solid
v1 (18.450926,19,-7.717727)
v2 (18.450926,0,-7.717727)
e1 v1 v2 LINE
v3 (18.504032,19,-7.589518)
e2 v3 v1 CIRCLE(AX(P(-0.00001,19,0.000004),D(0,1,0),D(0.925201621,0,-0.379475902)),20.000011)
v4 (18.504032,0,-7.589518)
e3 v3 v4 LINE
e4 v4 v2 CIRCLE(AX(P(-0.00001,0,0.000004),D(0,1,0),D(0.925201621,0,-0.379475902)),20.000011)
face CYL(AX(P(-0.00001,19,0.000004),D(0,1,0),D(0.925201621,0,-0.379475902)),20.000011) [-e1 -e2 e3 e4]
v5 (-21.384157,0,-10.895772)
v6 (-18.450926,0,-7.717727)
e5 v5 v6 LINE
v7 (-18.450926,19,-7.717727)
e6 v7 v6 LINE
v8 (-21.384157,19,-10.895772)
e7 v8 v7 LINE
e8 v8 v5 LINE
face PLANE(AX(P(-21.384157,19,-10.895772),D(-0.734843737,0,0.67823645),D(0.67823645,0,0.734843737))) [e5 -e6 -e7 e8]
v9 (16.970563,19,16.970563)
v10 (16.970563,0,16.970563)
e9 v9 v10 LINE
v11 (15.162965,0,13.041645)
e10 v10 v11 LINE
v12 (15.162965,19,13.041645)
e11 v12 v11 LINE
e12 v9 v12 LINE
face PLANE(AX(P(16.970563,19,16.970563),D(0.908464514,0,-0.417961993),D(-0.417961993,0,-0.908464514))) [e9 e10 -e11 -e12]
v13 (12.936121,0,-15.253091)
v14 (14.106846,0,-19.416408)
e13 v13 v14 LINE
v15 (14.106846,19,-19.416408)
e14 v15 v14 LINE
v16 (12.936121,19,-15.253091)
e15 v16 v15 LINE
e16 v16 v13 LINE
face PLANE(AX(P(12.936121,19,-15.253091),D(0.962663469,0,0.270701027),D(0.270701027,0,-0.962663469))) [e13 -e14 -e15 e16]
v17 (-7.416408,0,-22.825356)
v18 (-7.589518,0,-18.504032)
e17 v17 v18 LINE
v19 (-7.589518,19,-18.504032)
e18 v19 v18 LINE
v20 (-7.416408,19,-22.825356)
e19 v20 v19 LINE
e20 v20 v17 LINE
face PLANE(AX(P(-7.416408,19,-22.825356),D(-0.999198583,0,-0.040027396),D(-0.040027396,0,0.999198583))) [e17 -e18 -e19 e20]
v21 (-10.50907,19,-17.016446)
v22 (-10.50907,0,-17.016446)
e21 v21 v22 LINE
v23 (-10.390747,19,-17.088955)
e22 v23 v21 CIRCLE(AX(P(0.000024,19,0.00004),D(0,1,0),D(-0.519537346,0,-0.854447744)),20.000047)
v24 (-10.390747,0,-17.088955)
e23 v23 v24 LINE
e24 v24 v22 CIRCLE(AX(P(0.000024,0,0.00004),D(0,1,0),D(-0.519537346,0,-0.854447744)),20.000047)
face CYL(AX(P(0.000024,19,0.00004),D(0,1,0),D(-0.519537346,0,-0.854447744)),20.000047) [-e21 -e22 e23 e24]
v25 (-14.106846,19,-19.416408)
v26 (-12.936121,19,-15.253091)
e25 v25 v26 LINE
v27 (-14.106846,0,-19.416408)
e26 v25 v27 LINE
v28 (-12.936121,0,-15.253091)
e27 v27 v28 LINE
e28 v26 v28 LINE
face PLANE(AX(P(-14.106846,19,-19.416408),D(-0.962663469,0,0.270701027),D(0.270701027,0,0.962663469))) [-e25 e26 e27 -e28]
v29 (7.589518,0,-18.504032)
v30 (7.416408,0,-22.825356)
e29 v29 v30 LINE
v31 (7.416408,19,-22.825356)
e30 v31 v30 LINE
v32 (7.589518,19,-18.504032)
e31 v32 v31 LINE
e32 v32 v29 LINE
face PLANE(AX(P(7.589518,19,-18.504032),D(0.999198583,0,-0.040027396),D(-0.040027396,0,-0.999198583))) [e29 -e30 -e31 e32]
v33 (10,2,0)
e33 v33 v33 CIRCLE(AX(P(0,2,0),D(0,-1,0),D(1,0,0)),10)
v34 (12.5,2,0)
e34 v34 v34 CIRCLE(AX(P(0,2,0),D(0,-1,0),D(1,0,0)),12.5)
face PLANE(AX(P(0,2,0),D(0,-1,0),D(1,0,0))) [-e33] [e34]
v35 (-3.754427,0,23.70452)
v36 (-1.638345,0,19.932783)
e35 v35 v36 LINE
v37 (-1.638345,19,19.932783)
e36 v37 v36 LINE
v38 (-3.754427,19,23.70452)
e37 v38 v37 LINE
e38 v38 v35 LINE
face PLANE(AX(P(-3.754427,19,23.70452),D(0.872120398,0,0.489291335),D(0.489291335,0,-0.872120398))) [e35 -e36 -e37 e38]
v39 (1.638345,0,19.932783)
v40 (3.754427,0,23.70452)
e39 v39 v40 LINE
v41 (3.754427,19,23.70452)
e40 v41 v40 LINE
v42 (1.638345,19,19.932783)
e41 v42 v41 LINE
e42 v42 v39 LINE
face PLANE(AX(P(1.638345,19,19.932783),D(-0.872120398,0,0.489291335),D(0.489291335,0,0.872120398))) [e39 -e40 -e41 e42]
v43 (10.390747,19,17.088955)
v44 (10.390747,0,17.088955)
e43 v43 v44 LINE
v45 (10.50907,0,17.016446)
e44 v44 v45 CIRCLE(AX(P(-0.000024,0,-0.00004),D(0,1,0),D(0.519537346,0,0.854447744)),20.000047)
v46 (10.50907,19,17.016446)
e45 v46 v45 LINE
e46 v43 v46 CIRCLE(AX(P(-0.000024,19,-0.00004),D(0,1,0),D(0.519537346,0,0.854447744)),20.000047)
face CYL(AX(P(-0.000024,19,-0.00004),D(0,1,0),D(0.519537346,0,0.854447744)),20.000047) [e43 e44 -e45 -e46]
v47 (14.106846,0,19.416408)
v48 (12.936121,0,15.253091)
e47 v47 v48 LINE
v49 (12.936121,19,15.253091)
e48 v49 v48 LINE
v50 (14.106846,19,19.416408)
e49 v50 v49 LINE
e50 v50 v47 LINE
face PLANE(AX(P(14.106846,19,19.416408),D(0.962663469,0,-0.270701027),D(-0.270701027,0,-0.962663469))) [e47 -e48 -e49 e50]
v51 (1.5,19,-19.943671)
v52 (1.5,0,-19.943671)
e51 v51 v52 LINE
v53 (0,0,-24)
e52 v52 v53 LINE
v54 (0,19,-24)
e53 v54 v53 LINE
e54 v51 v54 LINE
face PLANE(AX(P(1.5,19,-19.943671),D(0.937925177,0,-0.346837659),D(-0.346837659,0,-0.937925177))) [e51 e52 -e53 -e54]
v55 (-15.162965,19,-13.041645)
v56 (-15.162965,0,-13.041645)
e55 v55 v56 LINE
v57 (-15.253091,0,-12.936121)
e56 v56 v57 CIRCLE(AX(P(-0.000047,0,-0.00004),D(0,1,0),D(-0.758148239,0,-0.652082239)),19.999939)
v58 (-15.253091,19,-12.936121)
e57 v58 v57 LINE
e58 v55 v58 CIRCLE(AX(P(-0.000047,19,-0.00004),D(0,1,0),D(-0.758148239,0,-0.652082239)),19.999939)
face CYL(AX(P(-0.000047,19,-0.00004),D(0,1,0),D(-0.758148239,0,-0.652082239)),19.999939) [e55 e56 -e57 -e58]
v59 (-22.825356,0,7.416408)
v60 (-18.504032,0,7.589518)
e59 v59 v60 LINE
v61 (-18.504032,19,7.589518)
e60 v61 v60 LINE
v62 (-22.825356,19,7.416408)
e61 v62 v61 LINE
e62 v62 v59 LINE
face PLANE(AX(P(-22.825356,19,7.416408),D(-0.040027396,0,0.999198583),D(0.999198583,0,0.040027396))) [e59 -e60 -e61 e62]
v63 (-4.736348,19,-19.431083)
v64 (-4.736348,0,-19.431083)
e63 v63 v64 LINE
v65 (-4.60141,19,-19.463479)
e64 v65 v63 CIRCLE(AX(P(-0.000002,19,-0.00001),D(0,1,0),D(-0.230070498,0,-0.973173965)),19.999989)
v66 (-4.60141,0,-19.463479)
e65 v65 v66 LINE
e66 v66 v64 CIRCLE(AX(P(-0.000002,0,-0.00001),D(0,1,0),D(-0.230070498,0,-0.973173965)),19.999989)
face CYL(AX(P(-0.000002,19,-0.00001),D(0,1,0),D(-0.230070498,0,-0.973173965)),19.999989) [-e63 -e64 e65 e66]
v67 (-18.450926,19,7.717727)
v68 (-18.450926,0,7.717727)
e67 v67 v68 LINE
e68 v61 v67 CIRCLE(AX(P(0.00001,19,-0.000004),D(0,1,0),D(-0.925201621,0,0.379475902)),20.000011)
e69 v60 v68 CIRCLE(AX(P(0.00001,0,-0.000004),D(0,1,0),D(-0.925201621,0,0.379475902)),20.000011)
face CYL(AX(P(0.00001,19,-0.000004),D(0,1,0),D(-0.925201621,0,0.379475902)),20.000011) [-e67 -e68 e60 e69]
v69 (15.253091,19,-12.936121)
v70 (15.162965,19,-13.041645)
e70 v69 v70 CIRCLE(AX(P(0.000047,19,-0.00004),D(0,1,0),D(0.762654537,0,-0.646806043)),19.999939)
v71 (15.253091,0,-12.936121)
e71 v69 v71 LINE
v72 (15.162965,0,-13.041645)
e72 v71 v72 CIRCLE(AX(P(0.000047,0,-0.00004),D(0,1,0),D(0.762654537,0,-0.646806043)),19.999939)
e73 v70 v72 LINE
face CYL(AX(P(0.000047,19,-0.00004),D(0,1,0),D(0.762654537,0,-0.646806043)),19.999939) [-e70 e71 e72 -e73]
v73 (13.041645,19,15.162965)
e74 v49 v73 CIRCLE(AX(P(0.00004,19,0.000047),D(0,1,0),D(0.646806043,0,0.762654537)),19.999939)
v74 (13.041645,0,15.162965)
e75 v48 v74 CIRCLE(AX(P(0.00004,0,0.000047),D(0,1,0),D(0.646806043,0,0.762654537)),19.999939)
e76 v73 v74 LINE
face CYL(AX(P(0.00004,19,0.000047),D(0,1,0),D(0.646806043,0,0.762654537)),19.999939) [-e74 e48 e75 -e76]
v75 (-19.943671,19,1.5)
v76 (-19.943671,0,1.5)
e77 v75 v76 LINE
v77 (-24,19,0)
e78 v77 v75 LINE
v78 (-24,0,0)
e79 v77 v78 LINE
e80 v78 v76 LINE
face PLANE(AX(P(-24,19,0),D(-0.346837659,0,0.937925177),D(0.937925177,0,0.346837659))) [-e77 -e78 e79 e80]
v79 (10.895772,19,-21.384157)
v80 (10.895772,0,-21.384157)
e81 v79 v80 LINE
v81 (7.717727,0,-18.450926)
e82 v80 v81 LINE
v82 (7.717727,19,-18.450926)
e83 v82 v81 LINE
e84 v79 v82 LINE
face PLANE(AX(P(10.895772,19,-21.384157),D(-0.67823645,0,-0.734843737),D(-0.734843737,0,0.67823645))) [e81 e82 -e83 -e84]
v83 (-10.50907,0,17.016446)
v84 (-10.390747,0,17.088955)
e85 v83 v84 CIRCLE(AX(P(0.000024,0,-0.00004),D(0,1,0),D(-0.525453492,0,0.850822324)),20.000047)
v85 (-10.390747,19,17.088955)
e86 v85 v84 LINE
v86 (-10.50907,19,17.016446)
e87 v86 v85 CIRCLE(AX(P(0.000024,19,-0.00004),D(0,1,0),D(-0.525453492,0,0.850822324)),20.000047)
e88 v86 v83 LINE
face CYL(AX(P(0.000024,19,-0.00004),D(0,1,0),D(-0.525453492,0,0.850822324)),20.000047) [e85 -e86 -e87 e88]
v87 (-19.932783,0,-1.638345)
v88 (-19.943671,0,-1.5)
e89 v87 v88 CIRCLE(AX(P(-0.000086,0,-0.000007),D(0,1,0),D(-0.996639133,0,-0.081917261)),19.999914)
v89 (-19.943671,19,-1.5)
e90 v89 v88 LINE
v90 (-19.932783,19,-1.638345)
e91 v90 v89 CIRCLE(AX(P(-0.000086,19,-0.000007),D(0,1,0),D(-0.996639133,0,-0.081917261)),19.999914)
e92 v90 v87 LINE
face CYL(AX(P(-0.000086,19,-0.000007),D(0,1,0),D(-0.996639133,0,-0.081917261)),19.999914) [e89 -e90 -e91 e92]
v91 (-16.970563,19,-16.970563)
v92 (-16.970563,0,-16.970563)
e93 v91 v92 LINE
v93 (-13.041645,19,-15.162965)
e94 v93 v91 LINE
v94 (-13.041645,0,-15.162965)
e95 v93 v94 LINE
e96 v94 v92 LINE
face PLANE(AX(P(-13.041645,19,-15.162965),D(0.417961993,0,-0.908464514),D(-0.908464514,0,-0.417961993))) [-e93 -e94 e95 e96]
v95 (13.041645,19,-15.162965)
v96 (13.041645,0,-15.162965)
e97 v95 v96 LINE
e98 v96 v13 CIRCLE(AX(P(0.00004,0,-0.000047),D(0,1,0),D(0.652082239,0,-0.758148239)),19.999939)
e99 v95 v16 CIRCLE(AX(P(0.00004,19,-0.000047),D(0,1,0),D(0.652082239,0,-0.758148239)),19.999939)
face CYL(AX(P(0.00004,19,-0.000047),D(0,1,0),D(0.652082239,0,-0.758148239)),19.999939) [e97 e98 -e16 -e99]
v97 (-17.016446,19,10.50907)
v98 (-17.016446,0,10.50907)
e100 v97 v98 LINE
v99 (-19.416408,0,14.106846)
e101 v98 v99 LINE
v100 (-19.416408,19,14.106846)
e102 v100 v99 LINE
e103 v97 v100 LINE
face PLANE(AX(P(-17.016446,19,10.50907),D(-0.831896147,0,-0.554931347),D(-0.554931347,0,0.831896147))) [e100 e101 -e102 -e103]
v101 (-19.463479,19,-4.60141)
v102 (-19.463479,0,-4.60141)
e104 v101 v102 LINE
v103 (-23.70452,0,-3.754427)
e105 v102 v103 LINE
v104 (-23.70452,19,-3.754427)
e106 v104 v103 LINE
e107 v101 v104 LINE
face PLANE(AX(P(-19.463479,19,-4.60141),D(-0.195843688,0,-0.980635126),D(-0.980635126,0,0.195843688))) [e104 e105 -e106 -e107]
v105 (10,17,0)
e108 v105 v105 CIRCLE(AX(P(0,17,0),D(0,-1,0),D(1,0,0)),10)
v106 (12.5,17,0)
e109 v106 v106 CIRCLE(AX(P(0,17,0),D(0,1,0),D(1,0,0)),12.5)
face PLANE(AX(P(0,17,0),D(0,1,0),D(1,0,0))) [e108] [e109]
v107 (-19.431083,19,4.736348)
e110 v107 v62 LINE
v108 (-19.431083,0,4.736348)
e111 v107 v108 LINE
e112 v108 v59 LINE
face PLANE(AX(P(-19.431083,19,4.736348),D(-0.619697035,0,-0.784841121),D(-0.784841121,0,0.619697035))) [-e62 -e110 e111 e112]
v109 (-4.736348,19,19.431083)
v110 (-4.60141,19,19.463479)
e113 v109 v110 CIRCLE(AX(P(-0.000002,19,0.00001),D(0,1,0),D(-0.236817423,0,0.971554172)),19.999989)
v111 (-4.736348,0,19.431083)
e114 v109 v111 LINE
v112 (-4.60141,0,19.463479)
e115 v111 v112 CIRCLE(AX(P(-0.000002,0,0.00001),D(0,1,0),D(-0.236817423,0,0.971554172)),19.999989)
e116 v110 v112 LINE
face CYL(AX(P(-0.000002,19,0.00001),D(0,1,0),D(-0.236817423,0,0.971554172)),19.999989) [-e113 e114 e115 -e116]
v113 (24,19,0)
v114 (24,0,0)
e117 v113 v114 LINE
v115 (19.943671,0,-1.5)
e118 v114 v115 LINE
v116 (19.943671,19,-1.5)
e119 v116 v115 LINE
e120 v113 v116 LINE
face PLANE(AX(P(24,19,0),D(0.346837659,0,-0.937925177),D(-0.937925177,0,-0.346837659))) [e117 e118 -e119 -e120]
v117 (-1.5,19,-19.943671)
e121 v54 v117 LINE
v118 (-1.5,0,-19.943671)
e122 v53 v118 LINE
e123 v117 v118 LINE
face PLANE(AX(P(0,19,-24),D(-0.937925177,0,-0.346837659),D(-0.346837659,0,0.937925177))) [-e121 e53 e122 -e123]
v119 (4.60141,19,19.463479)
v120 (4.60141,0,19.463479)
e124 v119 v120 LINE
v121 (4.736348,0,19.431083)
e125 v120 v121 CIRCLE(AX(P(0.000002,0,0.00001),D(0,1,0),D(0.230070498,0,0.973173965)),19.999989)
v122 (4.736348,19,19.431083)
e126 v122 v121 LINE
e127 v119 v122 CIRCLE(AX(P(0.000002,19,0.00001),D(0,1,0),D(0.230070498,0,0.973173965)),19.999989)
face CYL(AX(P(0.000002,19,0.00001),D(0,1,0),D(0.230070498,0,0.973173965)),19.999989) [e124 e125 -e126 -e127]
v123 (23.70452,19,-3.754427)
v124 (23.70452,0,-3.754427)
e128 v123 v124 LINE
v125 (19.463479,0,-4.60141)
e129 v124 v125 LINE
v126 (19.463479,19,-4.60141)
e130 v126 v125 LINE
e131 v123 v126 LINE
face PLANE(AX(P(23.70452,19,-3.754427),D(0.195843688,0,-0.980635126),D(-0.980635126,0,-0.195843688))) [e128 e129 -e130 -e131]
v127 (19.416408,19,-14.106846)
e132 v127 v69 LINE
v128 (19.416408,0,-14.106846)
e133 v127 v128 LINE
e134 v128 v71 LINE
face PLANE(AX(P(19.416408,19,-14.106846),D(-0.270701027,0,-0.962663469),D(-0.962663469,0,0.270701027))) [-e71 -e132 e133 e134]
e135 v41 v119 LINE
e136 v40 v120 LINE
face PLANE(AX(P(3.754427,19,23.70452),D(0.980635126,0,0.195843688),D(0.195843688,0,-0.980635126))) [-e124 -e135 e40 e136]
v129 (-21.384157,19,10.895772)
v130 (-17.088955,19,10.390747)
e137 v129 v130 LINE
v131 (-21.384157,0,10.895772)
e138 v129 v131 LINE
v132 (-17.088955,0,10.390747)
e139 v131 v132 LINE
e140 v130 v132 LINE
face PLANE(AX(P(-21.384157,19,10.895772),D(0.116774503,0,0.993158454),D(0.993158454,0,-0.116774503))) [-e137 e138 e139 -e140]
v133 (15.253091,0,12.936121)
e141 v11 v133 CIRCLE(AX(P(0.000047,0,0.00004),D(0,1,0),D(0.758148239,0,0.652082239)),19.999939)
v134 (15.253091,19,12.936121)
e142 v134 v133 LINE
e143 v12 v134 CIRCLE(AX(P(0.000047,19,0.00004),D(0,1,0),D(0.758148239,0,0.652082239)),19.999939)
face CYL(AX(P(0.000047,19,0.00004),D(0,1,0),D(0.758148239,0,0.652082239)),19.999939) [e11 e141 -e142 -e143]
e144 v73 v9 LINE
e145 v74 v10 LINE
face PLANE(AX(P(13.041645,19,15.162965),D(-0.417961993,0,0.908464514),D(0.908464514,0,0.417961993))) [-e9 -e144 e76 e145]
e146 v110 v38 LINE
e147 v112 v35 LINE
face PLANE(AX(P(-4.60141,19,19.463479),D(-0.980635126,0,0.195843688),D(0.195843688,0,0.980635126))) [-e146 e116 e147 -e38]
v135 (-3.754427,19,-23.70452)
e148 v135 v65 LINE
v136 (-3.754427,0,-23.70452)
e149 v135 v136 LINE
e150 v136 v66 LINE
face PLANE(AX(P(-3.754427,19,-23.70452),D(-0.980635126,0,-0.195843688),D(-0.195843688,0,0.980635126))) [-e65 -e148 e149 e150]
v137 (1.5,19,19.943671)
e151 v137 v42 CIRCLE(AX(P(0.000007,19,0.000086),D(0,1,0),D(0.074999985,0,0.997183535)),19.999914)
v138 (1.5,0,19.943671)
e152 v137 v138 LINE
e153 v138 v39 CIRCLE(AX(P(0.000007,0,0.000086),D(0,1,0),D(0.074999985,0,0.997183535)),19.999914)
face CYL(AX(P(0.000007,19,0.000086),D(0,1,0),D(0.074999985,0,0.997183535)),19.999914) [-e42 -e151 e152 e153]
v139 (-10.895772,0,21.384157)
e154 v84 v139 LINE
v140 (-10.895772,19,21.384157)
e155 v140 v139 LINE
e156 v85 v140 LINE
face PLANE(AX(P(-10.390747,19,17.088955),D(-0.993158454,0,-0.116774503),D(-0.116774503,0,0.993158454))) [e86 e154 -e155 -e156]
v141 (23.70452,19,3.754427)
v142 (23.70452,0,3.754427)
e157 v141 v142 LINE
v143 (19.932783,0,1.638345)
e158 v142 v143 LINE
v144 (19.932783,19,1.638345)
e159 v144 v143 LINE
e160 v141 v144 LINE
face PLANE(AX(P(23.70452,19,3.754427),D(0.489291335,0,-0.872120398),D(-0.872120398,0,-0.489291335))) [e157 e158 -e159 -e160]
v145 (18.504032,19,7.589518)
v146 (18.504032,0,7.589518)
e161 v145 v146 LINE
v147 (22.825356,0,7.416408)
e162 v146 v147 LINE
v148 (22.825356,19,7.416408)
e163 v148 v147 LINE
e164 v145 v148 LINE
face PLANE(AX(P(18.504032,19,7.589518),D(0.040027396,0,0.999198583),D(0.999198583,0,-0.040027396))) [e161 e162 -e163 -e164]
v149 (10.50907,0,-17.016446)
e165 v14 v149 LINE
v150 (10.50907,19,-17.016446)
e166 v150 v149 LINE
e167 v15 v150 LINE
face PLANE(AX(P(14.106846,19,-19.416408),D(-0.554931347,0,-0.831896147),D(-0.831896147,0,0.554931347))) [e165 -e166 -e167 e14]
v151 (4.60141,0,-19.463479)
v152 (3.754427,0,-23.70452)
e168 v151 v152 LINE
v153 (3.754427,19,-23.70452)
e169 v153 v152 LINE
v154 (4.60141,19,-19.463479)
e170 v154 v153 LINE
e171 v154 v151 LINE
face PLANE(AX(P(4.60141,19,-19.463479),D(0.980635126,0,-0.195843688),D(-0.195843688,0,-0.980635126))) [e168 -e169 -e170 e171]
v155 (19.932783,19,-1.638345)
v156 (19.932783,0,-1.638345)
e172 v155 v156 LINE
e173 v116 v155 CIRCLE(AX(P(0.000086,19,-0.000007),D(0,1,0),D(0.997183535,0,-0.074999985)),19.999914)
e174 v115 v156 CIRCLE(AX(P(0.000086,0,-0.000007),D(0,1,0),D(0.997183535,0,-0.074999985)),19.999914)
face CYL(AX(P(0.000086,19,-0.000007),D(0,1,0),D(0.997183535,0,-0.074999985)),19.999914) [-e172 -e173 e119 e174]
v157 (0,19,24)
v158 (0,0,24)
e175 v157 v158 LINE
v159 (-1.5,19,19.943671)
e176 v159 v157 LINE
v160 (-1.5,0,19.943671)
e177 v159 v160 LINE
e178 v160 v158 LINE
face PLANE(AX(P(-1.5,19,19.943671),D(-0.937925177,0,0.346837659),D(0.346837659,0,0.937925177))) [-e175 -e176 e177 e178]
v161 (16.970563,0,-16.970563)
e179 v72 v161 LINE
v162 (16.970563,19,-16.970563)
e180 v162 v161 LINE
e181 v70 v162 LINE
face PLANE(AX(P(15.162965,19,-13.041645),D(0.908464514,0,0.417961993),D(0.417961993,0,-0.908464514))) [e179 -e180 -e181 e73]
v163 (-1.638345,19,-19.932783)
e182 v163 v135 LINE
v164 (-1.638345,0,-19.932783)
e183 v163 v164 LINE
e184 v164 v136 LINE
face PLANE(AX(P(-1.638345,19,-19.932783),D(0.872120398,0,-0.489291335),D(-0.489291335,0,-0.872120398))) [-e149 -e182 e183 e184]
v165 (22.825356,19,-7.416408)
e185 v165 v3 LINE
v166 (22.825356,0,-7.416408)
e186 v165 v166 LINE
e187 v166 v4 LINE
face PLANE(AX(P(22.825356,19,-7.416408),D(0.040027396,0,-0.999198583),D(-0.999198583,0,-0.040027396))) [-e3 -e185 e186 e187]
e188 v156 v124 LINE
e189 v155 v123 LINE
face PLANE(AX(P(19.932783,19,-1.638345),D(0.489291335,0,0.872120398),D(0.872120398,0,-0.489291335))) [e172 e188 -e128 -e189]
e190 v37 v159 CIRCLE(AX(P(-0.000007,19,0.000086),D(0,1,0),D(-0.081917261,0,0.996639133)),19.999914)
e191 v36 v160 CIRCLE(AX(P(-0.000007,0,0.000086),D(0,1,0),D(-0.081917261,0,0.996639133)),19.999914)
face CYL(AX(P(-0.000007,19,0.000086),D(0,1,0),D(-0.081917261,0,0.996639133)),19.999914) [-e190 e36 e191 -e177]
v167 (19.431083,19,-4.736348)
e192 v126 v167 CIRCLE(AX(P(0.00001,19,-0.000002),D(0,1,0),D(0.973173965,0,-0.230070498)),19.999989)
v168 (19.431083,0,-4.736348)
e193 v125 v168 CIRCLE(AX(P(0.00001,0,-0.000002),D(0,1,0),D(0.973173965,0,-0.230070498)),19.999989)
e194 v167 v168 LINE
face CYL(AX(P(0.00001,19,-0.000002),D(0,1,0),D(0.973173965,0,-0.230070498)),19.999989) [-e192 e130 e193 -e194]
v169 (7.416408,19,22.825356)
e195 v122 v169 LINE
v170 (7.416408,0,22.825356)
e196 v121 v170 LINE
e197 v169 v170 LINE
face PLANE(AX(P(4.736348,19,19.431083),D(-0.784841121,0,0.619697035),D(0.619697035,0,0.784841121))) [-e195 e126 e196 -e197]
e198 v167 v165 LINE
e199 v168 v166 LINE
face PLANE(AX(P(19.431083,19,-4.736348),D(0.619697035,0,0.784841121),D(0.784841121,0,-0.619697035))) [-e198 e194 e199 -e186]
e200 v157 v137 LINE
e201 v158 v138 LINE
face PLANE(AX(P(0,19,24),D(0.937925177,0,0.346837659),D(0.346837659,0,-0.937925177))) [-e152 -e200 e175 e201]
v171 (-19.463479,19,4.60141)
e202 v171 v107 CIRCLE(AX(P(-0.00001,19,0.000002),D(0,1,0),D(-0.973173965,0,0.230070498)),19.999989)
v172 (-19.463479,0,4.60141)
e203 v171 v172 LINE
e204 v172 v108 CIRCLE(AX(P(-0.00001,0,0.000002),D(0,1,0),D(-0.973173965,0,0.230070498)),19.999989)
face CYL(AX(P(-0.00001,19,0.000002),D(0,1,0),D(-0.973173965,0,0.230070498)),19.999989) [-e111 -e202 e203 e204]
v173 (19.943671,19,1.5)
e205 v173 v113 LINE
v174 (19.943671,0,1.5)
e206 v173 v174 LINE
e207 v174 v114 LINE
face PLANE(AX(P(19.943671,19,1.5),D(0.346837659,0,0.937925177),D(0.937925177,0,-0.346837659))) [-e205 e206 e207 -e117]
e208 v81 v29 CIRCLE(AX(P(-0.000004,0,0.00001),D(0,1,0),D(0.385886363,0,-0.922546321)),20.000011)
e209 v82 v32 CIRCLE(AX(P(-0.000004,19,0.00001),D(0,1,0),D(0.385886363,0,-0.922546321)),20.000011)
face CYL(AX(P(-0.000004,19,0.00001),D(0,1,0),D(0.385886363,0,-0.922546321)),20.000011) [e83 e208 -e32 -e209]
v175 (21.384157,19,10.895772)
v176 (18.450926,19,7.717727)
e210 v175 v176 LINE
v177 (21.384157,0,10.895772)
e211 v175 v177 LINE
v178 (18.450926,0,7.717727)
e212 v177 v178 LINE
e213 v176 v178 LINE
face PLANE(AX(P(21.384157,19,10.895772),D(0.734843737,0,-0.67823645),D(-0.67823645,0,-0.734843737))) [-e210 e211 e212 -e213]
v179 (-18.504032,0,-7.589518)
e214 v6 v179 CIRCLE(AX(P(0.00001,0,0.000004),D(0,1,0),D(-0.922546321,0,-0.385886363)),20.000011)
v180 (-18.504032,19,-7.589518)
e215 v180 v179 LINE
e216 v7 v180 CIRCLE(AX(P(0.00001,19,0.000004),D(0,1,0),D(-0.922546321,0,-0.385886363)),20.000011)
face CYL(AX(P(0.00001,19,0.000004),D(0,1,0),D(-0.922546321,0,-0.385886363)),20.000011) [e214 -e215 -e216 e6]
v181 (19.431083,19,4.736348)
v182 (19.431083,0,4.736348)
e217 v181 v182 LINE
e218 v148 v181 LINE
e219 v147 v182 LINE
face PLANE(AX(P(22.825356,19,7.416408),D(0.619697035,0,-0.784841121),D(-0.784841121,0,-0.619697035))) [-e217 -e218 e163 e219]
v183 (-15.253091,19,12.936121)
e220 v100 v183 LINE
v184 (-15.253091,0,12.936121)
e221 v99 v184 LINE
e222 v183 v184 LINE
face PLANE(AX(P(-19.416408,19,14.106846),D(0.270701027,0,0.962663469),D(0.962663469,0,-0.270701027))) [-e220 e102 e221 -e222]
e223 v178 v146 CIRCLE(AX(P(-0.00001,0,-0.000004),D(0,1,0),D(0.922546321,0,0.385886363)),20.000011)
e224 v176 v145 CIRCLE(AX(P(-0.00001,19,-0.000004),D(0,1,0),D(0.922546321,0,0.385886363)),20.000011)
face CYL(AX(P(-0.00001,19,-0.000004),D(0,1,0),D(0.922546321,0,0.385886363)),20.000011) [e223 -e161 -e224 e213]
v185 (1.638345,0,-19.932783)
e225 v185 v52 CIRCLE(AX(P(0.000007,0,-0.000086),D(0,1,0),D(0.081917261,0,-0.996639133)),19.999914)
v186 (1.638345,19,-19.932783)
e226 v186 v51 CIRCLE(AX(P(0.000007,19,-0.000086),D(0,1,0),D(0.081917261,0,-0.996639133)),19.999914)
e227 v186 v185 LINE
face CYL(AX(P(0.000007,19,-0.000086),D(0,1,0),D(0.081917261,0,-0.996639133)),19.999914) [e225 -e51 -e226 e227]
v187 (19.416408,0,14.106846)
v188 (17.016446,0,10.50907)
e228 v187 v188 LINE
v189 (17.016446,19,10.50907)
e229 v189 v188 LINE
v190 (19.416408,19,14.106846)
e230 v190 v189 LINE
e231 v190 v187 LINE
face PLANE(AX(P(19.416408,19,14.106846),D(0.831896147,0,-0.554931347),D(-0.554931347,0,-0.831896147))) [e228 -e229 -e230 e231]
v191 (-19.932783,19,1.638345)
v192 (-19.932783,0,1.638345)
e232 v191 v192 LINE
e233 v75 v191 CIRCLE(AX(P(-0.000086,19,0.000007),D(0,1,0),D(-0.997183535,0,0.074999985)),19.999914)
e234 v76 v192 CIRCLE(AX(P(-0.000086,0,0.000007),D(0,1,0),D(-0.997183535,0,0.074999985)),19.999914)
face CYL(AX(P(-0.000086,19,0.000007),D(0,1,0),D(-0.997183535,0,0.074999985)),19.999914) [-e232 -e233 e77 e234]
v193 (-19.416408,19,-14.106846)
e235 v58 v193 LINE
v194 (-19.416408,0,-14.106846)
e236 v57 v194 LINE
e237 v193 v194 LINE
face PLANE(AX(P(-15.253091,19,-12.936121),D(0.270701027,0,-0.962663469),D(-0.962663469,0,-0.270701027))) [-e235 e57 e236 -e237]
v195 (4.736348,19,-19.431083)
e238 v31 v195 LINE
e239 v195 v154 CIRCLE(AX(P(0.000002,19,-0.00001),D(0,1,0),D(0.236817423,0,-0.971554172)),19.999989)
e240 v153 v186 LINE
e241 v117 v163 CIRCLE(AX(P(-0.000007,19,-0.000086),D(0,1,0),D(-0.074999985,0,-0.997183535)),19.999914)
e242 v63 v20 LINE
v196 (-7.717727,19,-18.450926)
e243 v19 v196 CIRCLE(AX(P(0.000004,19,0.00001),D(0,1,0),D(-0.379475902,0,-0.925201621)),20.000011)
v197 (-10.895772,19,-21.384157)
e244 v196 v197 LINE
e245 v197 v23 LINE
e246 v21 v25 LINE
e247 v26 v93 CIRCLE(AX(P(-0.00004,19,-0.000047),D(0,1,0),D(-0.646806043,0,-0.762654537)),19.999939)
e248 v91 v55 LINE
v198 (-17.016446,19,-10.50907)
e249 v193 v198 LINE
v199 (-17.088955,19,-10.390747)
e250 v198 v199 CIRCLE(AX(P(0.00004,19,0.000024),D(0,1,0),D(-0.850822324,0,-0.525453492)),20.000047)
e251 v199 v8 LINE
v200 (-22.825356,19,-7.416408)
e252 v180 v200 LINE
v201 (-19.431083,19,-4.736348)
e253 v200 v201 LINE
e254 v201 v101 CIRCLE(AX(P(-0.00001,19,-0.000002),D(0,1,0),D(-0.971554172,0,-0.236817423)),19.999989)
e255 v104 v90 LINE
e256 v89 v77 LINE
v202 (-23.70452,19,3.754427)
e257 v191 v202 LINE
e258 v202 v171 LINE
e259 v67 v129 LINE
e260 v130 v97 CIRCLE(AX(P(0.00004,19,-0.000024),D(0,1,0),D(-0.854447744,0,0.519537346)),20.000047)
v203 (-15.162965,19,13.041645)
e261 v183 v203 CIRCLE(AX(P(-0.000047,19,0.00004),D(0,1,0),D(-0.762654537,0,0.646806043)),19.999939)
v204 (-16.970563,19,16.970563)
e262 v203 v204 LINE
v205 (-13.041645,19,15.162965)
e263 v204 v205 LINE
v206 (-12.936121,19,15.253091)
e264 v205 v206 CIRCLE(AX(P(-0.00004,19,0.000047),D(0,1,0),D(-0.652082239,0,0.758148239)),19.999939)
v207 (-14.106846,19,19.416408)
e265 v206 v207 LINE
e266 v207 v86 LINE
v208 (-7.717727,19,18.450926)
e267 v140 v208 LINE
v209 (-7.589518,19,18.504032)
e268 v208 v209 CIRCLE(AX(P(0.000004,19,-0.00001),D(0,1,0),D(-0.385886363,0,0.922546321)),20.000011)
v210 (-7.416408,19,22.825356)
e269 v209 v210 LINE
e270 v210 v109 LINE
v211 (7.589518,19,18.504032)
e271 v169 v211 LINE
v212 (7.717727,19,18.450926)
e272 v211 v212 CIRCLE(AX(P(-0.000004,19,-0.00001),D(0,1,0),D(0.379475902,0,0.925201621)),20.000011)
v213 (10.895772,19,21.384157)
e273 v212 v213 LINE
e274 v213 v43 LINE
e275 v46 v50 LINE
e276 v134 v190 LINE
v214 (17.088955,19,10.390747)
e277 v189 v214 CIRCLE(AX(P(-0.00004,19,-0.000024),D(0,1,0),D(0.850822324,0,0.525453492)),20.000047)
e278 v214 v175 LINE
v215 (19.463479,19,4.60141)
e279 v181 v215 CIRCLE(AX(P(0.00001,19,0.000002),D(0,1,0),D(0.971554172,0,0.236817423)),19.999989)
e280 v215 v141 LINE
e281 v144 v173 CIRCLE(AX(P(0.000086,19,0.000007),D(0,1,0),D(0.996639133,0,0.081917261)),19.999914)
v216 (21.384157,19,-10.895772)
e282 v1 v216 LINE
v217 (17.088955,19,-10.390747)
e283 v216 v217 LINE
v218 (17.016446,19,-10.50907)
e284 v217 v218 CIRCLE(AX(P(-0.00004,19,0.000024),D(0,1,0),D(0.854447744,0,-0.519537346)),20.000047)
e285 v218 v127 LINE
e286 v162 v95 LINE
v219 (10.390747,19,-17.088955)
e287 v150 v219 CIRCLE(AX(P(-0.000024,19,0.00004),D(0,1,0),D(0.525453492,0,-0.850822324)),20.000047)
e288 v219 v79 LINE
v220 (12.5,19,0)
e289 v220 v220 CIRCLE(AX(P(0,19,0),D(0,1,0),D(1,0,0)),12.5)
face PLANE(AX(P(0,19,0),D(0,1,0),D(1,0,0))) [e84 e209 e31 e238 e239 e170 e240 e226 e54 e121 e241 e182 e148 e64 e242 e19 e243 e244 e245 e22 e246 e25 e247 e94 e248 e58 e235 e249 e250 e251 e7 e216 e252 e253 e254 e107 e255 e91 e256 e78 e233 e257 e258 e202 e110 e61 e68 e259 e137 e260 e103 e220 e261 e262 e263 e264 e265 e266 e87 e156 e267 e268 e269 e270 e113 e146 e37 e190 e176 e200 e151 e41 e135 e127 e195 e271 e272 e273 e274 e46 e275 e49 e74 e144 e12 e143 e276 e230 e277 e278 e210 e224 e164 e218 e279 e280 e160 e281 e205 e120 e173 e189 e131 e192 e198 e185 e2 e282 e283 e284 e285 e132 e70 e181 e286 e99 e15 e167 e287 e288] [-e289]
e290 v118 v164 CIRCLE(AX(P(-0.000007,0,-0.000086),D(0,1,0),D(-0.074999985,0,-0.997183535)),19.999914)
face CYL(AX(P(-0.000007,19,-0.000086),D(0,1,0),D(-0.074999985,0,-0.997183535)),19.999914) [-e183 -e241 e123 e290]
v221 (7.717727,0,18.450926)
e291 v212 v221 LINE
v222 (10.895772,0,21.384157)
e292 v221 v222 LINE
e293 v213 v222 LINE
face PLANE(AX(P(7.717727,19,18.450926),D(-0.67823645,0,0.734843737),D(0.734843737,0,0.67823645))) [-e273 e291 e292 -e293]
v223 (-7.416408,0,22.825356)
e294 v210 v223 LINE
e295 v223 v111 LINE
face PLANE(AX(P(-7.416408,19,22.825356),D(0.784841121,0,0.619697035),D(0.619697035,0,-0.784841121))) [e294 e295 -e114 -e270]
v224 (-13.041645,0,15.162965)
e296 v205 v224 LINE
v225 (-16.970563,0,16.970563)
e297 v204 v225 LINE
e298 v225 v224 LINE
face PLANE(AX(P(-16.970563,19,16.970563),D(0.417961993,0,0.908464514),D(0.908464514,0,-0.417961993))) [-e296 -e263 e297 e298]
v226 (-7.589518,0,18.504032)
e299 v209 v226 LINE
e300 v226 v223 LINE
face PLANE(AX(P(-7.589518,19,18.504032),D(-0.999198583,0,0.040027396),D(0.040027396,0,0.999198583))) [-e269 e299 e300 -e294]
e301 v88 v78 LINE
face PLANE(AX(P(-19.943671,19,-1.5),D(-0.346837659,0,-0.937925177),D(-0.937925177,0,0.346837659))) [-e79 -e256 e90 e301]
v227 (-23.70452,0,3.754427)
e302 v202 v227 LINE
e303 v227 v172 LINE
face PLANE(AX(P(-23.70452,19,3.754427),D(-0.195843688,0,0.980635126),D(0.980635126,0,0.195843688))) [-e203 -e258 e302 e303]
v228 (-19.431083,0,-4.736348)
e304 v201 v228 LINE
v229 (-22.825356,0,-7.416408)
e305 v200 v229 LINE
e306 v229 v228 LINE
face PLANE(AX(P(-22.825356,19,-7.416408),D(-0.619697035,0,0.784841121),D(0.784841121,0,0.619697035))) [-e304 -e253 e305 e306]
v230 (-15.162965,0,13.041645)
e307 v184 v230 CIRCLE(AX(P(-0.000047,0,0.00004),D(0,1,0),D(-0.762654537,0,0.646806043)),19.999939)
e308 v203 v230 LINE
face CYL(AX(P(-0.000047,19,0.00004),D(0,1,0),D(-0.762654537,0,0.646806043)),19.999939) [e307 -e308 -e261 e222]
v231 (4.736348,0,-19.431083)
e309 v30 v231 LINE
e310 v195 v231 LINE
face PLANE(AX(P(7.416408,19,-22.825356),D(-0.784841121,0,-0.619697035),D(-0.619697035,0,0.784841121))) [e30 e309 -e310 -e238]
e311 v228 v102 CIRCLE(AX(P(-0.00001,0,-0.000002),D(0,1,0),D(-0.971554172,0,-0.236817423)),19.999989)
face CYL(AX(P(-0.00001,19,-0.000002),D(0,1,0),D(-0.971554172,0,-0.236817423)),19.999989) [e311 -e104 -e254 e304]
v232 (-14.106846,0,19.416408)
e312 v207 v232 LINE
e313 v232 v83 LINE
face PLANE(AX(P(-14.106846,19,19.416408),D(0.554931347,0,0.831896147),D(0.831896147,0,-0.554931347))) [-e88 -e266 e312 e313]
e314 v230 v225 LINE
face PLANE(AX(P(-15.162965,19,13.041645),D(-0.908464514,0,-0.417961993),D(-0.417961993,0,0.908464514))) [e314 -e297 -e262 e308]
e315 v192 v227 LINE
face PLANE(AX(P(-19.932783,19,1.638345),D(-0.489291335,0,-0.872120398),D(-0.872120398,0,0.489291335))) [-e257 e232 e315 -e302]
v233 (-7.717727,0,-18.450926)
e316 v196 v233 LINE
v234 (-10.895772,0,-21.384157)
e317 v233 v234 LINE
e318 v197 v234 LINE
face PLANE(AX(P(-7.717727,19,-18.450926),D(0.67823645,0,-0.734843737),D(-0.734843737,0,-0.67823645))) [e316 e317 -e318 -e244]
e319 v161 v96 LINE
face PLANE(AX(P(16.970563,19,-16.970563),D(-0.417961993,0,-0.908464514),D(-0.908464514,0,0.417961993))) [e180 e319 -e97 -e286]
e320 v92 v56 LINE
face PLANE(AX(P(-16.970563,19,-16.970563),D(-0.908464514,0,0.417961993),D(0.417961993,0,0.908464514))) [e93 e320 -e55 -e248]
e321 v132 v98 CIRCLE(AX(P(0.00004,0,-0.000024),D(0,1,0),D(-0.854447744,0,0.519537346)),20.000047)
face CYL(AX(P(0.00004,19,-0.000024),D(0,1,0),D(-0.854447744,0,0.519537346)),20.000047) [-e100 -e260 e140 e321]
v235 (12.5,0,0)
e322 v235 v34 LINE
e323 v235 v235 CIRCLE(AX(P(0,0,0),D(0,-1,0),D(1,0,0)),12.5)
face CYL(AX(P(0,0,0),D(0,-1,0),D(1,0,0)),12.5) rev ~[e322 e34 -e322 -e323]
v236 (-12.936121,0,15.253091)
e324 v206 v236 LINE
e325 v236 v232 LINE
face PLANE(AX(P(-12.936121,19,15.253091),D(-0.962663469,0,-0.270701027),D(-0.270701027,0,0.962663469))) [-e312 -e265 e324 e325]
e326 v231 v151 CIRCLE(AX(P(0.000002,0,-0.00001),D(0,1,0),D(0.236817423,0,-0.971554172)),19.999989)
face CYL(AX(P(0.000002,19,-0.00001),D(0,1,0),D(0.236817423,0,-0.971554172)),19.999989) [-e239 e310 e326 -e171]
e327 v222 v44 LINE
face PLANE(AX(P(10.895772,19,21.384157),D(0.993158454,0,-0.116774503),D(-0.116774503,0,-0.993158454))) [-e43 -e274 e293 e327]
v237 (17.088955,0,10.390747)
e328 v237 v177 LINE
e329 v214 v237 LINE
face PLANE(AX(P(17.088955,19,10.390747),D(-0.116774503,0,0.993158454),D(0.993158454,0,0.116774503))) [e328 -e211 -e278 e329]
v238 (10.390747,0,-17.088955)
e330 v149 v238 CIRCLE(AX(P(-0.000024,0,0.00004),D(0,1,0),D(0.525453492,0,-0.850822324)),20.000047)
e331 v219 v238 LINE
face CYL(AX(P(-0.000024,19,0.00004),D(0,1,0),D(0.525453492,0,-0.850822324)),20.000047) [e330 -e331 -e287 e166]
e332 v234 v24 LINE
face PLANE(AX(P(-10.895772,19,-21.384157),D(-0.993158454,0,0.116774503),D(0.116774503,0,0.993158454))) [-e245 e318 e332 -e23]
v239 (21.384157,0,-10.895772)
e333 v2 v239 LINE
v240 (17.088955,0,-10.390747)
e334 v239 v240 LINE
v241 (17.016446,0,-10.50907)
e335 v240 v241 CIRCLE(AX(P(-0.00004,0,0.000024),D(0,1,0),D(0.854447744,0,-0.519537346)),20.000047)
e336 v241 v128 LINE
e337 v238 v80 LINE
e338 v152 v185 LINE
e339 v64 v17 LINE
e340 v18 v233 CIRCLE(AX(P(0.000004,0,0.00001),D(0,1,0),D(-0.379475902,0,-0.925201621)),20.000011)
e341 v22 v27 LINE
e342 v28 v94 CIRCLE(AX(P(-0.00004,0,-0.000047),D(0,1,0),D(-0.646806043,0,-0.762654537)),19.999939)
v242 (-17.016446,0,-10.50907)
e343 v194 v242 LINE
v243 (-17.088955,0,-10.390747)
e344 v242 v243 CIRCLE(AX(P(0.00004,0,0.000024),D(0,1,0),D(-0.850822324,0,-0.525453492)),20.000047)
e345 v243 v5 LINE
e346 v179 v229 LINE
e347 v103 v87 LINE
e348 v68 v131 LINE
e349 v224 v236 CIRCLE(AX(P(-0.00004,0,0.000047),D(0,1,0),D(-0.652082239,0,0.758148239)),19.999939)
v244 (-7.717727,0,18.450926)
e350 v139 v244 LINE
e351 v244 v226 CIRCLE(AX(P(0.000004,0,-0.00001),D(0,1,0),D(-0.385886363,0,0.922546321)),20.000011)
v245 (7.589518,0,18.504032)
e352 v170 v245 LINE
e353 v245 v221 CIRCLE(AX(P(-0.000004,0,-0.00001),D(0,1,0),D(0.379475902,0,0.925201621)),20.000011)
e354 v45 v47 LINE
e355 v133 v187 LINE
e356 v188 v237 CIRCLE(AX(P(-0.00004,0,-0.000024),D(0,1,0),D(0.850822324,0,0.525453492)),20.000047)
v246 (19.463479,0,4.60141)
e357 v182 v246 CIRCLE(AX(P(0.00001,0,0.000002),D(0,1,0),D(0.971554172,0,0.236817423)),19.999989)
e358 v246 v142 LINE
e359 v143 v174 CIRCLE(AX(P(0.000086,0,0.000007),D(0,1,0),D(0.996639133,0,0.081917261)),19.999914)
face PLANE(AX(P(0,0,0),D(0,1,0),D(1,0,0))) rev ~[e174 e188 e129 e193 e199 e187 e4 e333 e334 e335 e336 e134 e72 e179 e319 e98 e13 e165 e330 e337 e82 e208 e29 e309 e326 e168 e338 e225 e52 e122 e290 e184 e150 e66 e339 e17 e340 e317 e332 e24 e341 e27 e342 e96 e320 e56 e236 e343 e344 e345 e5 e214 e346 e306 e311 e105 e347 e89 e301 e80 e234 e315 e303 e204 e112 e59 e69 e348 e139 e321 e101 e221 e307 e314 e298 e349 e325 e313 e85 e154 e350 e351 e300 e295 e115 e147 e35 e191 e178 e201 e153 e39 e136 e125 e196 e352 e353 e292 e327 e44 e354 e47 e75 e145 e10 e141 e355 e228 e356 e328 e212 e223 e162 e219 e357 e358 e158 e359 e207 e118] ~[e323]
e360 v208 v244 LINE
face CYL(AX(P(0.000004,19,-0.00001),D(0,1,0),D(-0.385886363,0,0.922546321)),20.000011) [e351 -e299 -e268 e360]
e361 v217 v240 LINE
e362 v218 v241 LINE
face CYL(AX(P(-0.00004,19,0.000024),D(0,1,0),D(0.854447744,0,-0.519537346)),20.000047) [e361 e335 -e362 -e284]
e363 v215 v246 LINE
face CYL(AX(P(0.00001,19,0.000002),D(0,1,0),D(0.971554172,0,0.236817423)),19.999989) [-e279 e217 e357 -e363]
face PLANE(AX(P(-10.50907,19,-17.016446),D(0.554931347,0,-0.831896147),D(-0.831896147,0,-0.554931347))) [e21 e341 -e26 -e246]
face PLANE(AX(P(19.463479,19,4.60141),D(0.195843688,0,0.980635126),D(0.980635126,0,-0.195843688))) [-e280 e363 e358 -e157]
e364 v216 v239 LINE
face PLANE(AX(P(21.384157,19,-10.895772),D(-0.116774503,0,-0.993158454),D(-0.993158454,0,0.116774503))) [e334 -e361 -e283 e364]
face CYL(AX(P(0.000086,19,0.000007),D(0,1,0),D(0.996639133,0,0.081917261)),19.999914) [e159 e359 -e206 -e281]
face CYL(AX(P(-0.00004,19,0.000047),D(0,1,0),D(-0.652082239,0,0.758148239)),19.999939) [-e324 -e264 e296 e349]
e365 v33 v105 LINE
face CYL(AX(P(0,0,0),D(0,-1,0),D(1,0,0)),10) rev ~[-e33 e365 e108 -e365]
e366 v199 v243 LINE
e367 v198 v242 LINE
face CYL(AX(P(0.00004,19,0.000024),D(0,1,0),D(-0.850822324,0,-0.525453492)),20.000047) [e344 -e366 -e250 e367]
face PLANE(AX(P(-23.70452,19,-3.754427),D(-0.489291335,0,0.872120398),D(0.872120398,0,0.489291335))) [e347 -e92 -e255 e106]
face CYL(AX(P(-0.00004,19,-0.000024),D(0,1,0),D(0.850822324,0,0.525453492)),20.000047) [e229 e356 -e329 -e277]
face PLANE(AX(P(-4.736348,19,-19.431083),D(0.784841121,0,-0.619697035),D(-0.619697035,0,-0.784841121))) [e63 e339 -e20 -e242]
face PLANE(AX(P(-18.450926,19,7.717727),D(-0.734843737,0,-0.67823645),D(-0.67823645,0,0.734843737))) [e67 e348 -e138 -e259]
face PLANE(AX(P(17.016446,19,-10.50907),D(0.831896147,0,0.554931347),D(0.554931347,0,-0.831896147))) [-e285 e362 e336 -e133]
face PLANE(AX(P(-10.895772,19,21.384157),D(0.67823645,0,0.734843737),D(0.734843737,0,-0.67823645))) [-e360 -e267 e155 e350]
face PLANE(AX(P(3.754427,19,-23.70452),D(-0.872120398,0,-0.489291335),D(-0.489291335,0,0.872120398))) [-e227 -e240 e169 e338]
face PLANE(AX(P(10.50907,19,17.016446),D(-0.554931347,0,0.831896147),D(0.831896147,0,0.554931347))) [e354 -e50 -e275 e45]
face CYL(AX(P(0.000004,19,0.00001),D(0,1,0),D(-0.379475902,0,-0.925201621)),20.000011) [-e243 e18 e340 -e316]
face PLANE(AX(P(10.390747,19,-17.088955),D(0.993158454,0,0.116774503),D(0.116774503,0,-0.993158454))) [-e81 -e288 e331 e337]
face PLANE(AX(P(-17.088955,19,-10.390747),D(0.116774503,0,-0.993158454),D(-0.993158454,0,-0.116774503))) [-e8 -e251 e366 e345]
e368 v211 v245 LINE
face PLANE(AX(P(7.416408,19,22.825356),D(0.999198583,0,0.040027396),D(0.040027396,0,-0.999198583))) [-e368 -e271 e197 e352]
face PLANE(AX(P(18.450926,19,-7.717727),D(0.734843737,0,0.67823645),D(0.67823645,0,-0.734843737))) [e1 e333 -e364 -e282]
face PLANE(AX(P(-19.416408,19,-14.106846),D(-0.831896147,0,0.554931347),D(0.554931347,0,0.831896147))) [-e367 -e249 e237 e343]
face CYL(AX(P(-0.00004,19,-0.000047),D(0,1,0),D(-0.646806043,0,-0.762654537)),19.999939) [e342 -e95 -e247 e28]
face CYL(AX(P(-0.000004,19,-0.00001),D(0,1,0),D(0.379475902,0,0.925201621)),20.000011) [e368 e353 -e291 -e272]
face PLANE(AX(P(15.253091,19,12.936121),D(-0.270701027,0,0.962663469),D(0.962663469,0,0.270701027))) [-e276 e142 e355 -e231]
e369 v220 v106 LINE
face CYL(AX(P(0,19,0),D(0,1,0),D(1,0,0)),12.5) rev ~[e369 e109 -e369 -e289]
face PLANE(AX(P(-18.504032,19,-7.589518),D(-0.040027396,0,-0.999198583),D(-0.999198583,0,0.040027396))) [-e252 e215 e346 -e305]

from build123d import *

# Parameters (mm, degrees)
CROQUIS1_R              = 10
CROQUIS1_R_2            = 3
SALIENTE_EXTRUIR1_DEPTH = 19
CROQUIS2_R              = 10
SALIENTE_EXTRUIR2_DEPTH = 19
CROQUIS3_R              = 10
CORTAR_EXTRUIR1_DEPTH   = 20
CROQUIS4_R              = 12.5
CORTAR_EXTRUIR2_DEPTH   = 2
CROQUIS5_R              = 12.5
CORTAR_EXTRUIR3_DEPTH   = 2


with BuildPart() as part:
    # Croquis1 → Saliente-Extruir1 (new body)
    with BuildSketch(Plane(origin=(0, 0, 0), x_dir=(1, 0, 0), z_dir=(0, 1, 0))):
        Circle(CROQUIS1_R)
        Circle(CROQUIS1_R_2, mode=Mode.SUBTRACT)
    extrude(amount=SALIENTE_EXTRUIR1_DEPTH)

    # Croquis2 → Saliente-Extruir2 (add)
    with BuildSketch(Plane(origin=(0, 19, 0), x_dir=(1, 0, 0), z_dir=(0, 1, 0))):
        with BuildLine():
            Line((-1.5, -19.943670675), (0, -24))
            Line((0, -24), (1.5, -19.943670675))
            ThreePointArc((1.5, -19.943670675), (1.569181915, -19.938346675), (1.638344942, -19.932782692))
            Line((1.638344942, -19.932782692), (3.754427161, -23.704520174))
            Line((3.754427161, -23.704520174), (4.601409964, -19.463479297))
            ThreePointArc((4.601409964, -19.463479297), (4.668907277, -19.447398408), (4.736348394, -19.431083446))
            Line((4.736348394, -19.431083446), (7.416407865, -22.825356391))
            Line((7.416407865, -22.825356391), (7.589517943, -18.504032463))
            ThreePointArc((7.589517943, -18.504032463), (7.653668647, -18.47759065), (7.71772723, -18.450926437))
            Line((7.71772723, -18.450926437), (10.895771994, -21.384156581))
            Line((10.895771994, -21.384156581), (10.390746803, -17.088954938))
            ThreePointArc((10.390746803, -17.088954938), (10.449971294, -17.052803287), (10.509070008, -17.016446385))
            Line((10.509070008, -17.016446385), (14.106846055, -19.416407865))
            Line((14.106846055, -19.416407865), (12.936120991, -15.253090628))
            ThreePointArc((12.936120991, -15.253090628), (12.988960967, -15.208119312), (13.041644604, -15.162964948))
            Line((13.041644604, -15.162964948), (16.970562748, -16.970562748))
            Line((16.970562748, -16.970562748), (15.162964948, -13.041644604))
            ThreePointArc((15.162964948, -13.041644604), (15.208119312, -12.988960967), (15.253090628, -12.936120991))
            Line((15.253090628, -12.936120991), (19.416407865, -14.106846055))
            Line((19.416407865, -14.106846055), (17.016446385, -10.509070008))
            ThreePointArc((17.016446385, -10.509070008), (17.052803287, -10.449971294), (17.088954938, -10.390746803))
            Line((17.088954938, -10.390746803), (21.384156581, -10.895771994))
            Line((21.384156581, -10.895771994), (18.450926437, -7.71772723))
            ThreePointArc((18.450926437, -7.71772723), (18.47759065, -7.653668647), (18.504032463, -7.589517943))
            Line((18.504032463, -7.589517943), (22.825356391, -7.416407865))
            Line((22.825356391, -7.416407865), (19.431083446, -4.736348394))
            ThreePointArc((19.431083446, -4.736348394), (19.447398408, -4.668907277), (19.463479297, -4.601409964))
            Line((19.463479297, -4.601409964), (23.704520174, -3.754427161))
            Line((23.704520174, -3.754427161), (19.932782692, -1.638344942))
            ThreePointArc((19.932782692, -1.638344942), (19.938346675, -1.569181915), (19.943670675, -1.5))
            Line((19.943670675, -1.5), (24, 0))
            Line((24, 0), (19.943670675, 1.5))
            ThreePointArc((19.943670675, 1.5), (19.938346675, 1.569181915), (19.932782692, 1.638344942))
            Line((19.932782692, 1.638344942), (23.704520174, 3.754427161))
            Line((23.704520174, 3.754427161), (19.463479297, 4.601409964))
            ThreePointArc((19.463479297, 4.601409964), (19.447398408, 4.668907277), (19.431083446, 4.736348394))
            Line((19.431083446, 4.736348394), (22.825356391, 7.416407865))
            Line((22.825356391, 7.416407865), (18.504032463, 7.589517943))
            ThreePointArc((18.504032463, 7.589517943), (18.47759065, 7.653668647), (18.450926437, 7.71772723))
            Line((18.450926437, 7.71772723), (21.384156581, 10.895771994))
            Line((21.384156581, 10.895771994), (17.088954938, 10.390746803))
            ThreePointArc((17.088954938, 10.390746803), (17.052803287, 10.449971294), (17.016446385, 10.509070008))
            Line((17.016446385, 10.509070008), (19.416407865, 14.106846055))
            Line((19.416407865, 14.106846055), (15.253090628, 12.936120991))
            ThreePointArc((15.253090628, 12.936120991), (15.208119312, 12.988960967), (15.162964948, 13.041644604))
            Line((15.162964948, 13.041644604), (16.970562748, 16.970562748))
            Line((16.970562748, 16.970562748), (13.041644604, 15.162964948))
            ThreePointArc((13.041644604, 15.162964948), (12.988960967, 15.208119312), (12.936120991, 15.253090628))
            Line((12.936120991, 15.253090628), (14.106846055, 19.416407865))
            Line((14.106846055, 19.416407865), (10.509070008, 17.016446385))
            ThreePointArc((10.509070008, 17.016446385), (10.449971294, 17.052803287), (10.390746803, 17.088954938))
            Line((10.390746803, 17.088954938), (10.895771994, 21.384156581))
            Line((10.895771994, 21.384156581), (7.71772723, 18.450926437))
            ThreePointArc((7.71772723, 18.450926437), (7.653668647, 18.47759065), (7.589517943, 18.504032463))
            Line((7.589517943, 18.504032463), (7.416407865, 22.825356391))
            Line((7.416407865, 22.825356391), (4.736348394, 19.431083446))
            ThreePointArc((4.736348394, 19.431083446), (4.668907277, 19.447398408), (4.601409964, 19.463479297))
            Line((4.601409964, 19.463479297), (3.754427161, 23.704520174))
            Line((3.754427161, 23.704520174), (1.638344942, 19.932782692))
            ThreePointArc((1.638344942, 19.932782692), (1.569181915, 19.938346675), (1.5, 19.943670675))
            Line((1.5, 19.943670675), (0, 24))
            Line((0, 24), (-1.5, 19.943670675))
            ThreePointArc((-1.5, 19.943670675), (-1.569181915, 19.938346675), (-1.638344942, 19.932782692))
            Line((-1.638344942, 19.932782692), (-3.754427161, 23.704520174))
            Line((-3.754427161, 23.704520174), (-4.601409964, 19.463479297))
            ThreePointArc((-4.601409964, 19.463479297), (-4.668907277, 19.447398408), (-4.736348394, 19.431083446))
            Line((-4.736348394, 19.431083446), (-7.416407865, 22.825356391))
            Line((-7.416407865, 22.825356391), (-7.589517943, 18.504032463))
            ThreePointArc((-7.589517943, 18.504032463), (-7.653668647, 18.47759065), (-7.71772723, 18.450926437))
            Line((-7.71772723, 18.450926437), (-10.895771994, 21.384156581))
            Line((-10.895771994, 21.384156581), (-10.390746803, 17.088954938))
            ThreePointArc((-10.390746803, 17.088954938), (-10.449971294, 17.052803287), (-10.509070008, 17.016446385))
            Line((-10.509070008, 17.016446385), (-14.106846055, 19.416407865))
            Line((-14.106846055, 19.416407865), (-12.936120991, 15.253090628))
            ThreePointArc((-12.936120991, 15.253090628), (-12.988960967, 15.208119312), (-13.041644604, 15.162964948))
            Line((-13.041644604, 15.162964948), (-16.970562748, 16.970562748))
            Line((-16.970562748, 16.970562748), (-15.162964948, 13.041644604))
            ThreePointArc((-15.162964948, 13.041644604), (-15.208119312, 12.988960967), (-15.253090628, 12.936120991))
            Line((-15.253090628, 12.936120991), (-19.416407865, 14.106846055))
            Line((-19.416407865, 14.106846055), (-17.016446385, 10.509070008))
            ThreePointArc((-17.016446385, 10.509070008), (-17.052803287, 10.449971294), (-17.088954938, 10.390746803))
            Line((-17.088954938, 10.390746803), (-21.384156581, 10.895771994))
            Line((-21.384156581, 10.895771994), (-18.450926437, 7.71772723))
            ThreePointArc((-18.450926437, 7.71772723), (-18.47759065, 7.653668647), (-18.504032463, 7.589517943))
            Line((-18.504032463, 7.589517943), (-22.825356391, 7.416407865))
            Line((-22.825356391, 7.416407865), (-19.431083446, 4.736348394))
            ThreePointArc((-19.431083446, 4.736348394), (-19.447398408, 4.668907277), (-19.463479297, 4.601409964))
            Line((-19.463479297, 4.601409964), (-23.704520174, 3.754427161))
            Line((-23.704520174, 3.754427161), (-19.932782692, 1.638344942))
            ThreePointArc((-19.932782692, 1.638344942), (-19.938346675, 1.569181915), (-19.943670675, 1.5))
            Line((-19.943670675, 1.5), (-24, 0))
            Line((-24, 0), (-19.943670675, -1.5))
            ThreePointArc((-19.943670675, -1.5), (-19.938346675, -1.569181915), (-19.932782692, -1.638344942))
            Line((-19.932782692, -1.638344942), (-23.704520174, -3.754427161))
            Line((-23.704520174, -3.754427161), (-19.463479297, -4.601409964))
            ThreePointArc((-19.463479297, -4.601409964), (-19.447398408, -4.668907277), (-19.431083446, -4.736348394))
            Line((-19.431083446, -4.736348394), (-22.825356391, -7.416407865))
            Line((-22.825356391, -7.416407865), (-18.504032463, -7.589517943))
            ThreePointArc((-18.504032463, -7.589517943), (-18.47759065, -7.653668647), (-18.450926437, -7.71772723))
            Line((-18.450926437, -7.71772723), (-21.384156581, -10.895771994))
            Line((-21.384156581, -10.895771994), (-17.088954938, -10.390746803))
            ThreePointArc((-17.088954938, -10.390746803), (-17.052803287, -10.449971294), (-17.016446385, -10.509070008))
            Line((-17.016446385, -10.509070008), (-19.416407865, -14.106846055))
            Line((-19.416407865, -14.106846055), (-15.253090628, -12.936120991))
            ThreePointArc((-15.253090628, -12.936120991), (-15.208119312, -12.988960967), (-15.162964948, -13.041644604))
            Line((-15.162964948, -13.041644604), (-16.970562748, -16.970562748))
            Line((-16.970562748, -16.970562748), (-13.041644604, -15.162964948))
            ThreePointArc((-13.041644604, -15.162964948), (-12.988960967, -15.208119312), (-12.936120991, -15.253090628))
            Line((-12.936120991, -15.253090628), (-14.106846055, -19.416407865))
            Line((-14.106846055, -19.416407865), (-10.509070008, -17.016446385))
            ThreePointArc((-10.509070008, -17.016446385), (-10.449971294, -17.052803287), (-10.390746803, -17.088954938))
            Line((-10.390746803, -17.088954938), (-10.895771994, -21.384156581))
            Line((-10.895771994, -21.384156581), (-7.71772723, -18.450926437))
            ThreePointArc((-7.71772723, -18.450926437), (-7.653668647, -18.47759065), (-7.589517943, -18.504032463))
            Line((-7.589517943, -18.504032463), (-7.416407865, -22.825356391))
            Line((-7.416407865, -22.825356391), (-4.736348394, -19.431083446))
            ThreePointArc((-4.736348394, -19.431083446), (-4.668907277, -19.447398408), (-4.601409964, -19.463479297))
            Line((-4.601409964, -19.463479297), (-3.754427161, -23.704520174))
            Line((-3.754427161, -23.704520174), (-1.638344942, -19.932782692))
            ThreePointArc((-1.638344942, -19.932782692), (-1.569181915, -19.938346675), (-1.5, -19.943670675))
        make_face()
        Circle(CROQUIS2_R, mode=Mode.SUBTRACT)
    extrude(amount=-SALIENTE_EXTRUIR2_DEPTH)

    # Croquis3 → Cortar-Extruir1 (cut, through all)
    with BuildSketch(Plane.XZ):
        Circle(CROQUIS3_R)
    extrude(amount=-CORTAR_EXTRUIR1_DEPTH, mode=Mode.SUBTRACT)

    # Croquis4 → Cortar-Extruir2 (cut)
    with BuildSketch(Plane(origin=(0, 19, 0), x_dir=(1, 0, 0), z_dir=(0, 1, 0))):
        Circle(CROQUIS4_R)
    extrude(amount=-CORTAR_EXTRUIR2_DEPTH, mode=Mode.SUBTRACT)

    # Croquis5 → Cortar-Extruir3 (cut)
    with BuildSketch(Plane.XZ):
        Circle(CROQUIS5_R)
    extrude(amount=-CORTAR_EXTRUIR3_DEPTH, mode=Mode.SUBTRACT)


solid = part.part
